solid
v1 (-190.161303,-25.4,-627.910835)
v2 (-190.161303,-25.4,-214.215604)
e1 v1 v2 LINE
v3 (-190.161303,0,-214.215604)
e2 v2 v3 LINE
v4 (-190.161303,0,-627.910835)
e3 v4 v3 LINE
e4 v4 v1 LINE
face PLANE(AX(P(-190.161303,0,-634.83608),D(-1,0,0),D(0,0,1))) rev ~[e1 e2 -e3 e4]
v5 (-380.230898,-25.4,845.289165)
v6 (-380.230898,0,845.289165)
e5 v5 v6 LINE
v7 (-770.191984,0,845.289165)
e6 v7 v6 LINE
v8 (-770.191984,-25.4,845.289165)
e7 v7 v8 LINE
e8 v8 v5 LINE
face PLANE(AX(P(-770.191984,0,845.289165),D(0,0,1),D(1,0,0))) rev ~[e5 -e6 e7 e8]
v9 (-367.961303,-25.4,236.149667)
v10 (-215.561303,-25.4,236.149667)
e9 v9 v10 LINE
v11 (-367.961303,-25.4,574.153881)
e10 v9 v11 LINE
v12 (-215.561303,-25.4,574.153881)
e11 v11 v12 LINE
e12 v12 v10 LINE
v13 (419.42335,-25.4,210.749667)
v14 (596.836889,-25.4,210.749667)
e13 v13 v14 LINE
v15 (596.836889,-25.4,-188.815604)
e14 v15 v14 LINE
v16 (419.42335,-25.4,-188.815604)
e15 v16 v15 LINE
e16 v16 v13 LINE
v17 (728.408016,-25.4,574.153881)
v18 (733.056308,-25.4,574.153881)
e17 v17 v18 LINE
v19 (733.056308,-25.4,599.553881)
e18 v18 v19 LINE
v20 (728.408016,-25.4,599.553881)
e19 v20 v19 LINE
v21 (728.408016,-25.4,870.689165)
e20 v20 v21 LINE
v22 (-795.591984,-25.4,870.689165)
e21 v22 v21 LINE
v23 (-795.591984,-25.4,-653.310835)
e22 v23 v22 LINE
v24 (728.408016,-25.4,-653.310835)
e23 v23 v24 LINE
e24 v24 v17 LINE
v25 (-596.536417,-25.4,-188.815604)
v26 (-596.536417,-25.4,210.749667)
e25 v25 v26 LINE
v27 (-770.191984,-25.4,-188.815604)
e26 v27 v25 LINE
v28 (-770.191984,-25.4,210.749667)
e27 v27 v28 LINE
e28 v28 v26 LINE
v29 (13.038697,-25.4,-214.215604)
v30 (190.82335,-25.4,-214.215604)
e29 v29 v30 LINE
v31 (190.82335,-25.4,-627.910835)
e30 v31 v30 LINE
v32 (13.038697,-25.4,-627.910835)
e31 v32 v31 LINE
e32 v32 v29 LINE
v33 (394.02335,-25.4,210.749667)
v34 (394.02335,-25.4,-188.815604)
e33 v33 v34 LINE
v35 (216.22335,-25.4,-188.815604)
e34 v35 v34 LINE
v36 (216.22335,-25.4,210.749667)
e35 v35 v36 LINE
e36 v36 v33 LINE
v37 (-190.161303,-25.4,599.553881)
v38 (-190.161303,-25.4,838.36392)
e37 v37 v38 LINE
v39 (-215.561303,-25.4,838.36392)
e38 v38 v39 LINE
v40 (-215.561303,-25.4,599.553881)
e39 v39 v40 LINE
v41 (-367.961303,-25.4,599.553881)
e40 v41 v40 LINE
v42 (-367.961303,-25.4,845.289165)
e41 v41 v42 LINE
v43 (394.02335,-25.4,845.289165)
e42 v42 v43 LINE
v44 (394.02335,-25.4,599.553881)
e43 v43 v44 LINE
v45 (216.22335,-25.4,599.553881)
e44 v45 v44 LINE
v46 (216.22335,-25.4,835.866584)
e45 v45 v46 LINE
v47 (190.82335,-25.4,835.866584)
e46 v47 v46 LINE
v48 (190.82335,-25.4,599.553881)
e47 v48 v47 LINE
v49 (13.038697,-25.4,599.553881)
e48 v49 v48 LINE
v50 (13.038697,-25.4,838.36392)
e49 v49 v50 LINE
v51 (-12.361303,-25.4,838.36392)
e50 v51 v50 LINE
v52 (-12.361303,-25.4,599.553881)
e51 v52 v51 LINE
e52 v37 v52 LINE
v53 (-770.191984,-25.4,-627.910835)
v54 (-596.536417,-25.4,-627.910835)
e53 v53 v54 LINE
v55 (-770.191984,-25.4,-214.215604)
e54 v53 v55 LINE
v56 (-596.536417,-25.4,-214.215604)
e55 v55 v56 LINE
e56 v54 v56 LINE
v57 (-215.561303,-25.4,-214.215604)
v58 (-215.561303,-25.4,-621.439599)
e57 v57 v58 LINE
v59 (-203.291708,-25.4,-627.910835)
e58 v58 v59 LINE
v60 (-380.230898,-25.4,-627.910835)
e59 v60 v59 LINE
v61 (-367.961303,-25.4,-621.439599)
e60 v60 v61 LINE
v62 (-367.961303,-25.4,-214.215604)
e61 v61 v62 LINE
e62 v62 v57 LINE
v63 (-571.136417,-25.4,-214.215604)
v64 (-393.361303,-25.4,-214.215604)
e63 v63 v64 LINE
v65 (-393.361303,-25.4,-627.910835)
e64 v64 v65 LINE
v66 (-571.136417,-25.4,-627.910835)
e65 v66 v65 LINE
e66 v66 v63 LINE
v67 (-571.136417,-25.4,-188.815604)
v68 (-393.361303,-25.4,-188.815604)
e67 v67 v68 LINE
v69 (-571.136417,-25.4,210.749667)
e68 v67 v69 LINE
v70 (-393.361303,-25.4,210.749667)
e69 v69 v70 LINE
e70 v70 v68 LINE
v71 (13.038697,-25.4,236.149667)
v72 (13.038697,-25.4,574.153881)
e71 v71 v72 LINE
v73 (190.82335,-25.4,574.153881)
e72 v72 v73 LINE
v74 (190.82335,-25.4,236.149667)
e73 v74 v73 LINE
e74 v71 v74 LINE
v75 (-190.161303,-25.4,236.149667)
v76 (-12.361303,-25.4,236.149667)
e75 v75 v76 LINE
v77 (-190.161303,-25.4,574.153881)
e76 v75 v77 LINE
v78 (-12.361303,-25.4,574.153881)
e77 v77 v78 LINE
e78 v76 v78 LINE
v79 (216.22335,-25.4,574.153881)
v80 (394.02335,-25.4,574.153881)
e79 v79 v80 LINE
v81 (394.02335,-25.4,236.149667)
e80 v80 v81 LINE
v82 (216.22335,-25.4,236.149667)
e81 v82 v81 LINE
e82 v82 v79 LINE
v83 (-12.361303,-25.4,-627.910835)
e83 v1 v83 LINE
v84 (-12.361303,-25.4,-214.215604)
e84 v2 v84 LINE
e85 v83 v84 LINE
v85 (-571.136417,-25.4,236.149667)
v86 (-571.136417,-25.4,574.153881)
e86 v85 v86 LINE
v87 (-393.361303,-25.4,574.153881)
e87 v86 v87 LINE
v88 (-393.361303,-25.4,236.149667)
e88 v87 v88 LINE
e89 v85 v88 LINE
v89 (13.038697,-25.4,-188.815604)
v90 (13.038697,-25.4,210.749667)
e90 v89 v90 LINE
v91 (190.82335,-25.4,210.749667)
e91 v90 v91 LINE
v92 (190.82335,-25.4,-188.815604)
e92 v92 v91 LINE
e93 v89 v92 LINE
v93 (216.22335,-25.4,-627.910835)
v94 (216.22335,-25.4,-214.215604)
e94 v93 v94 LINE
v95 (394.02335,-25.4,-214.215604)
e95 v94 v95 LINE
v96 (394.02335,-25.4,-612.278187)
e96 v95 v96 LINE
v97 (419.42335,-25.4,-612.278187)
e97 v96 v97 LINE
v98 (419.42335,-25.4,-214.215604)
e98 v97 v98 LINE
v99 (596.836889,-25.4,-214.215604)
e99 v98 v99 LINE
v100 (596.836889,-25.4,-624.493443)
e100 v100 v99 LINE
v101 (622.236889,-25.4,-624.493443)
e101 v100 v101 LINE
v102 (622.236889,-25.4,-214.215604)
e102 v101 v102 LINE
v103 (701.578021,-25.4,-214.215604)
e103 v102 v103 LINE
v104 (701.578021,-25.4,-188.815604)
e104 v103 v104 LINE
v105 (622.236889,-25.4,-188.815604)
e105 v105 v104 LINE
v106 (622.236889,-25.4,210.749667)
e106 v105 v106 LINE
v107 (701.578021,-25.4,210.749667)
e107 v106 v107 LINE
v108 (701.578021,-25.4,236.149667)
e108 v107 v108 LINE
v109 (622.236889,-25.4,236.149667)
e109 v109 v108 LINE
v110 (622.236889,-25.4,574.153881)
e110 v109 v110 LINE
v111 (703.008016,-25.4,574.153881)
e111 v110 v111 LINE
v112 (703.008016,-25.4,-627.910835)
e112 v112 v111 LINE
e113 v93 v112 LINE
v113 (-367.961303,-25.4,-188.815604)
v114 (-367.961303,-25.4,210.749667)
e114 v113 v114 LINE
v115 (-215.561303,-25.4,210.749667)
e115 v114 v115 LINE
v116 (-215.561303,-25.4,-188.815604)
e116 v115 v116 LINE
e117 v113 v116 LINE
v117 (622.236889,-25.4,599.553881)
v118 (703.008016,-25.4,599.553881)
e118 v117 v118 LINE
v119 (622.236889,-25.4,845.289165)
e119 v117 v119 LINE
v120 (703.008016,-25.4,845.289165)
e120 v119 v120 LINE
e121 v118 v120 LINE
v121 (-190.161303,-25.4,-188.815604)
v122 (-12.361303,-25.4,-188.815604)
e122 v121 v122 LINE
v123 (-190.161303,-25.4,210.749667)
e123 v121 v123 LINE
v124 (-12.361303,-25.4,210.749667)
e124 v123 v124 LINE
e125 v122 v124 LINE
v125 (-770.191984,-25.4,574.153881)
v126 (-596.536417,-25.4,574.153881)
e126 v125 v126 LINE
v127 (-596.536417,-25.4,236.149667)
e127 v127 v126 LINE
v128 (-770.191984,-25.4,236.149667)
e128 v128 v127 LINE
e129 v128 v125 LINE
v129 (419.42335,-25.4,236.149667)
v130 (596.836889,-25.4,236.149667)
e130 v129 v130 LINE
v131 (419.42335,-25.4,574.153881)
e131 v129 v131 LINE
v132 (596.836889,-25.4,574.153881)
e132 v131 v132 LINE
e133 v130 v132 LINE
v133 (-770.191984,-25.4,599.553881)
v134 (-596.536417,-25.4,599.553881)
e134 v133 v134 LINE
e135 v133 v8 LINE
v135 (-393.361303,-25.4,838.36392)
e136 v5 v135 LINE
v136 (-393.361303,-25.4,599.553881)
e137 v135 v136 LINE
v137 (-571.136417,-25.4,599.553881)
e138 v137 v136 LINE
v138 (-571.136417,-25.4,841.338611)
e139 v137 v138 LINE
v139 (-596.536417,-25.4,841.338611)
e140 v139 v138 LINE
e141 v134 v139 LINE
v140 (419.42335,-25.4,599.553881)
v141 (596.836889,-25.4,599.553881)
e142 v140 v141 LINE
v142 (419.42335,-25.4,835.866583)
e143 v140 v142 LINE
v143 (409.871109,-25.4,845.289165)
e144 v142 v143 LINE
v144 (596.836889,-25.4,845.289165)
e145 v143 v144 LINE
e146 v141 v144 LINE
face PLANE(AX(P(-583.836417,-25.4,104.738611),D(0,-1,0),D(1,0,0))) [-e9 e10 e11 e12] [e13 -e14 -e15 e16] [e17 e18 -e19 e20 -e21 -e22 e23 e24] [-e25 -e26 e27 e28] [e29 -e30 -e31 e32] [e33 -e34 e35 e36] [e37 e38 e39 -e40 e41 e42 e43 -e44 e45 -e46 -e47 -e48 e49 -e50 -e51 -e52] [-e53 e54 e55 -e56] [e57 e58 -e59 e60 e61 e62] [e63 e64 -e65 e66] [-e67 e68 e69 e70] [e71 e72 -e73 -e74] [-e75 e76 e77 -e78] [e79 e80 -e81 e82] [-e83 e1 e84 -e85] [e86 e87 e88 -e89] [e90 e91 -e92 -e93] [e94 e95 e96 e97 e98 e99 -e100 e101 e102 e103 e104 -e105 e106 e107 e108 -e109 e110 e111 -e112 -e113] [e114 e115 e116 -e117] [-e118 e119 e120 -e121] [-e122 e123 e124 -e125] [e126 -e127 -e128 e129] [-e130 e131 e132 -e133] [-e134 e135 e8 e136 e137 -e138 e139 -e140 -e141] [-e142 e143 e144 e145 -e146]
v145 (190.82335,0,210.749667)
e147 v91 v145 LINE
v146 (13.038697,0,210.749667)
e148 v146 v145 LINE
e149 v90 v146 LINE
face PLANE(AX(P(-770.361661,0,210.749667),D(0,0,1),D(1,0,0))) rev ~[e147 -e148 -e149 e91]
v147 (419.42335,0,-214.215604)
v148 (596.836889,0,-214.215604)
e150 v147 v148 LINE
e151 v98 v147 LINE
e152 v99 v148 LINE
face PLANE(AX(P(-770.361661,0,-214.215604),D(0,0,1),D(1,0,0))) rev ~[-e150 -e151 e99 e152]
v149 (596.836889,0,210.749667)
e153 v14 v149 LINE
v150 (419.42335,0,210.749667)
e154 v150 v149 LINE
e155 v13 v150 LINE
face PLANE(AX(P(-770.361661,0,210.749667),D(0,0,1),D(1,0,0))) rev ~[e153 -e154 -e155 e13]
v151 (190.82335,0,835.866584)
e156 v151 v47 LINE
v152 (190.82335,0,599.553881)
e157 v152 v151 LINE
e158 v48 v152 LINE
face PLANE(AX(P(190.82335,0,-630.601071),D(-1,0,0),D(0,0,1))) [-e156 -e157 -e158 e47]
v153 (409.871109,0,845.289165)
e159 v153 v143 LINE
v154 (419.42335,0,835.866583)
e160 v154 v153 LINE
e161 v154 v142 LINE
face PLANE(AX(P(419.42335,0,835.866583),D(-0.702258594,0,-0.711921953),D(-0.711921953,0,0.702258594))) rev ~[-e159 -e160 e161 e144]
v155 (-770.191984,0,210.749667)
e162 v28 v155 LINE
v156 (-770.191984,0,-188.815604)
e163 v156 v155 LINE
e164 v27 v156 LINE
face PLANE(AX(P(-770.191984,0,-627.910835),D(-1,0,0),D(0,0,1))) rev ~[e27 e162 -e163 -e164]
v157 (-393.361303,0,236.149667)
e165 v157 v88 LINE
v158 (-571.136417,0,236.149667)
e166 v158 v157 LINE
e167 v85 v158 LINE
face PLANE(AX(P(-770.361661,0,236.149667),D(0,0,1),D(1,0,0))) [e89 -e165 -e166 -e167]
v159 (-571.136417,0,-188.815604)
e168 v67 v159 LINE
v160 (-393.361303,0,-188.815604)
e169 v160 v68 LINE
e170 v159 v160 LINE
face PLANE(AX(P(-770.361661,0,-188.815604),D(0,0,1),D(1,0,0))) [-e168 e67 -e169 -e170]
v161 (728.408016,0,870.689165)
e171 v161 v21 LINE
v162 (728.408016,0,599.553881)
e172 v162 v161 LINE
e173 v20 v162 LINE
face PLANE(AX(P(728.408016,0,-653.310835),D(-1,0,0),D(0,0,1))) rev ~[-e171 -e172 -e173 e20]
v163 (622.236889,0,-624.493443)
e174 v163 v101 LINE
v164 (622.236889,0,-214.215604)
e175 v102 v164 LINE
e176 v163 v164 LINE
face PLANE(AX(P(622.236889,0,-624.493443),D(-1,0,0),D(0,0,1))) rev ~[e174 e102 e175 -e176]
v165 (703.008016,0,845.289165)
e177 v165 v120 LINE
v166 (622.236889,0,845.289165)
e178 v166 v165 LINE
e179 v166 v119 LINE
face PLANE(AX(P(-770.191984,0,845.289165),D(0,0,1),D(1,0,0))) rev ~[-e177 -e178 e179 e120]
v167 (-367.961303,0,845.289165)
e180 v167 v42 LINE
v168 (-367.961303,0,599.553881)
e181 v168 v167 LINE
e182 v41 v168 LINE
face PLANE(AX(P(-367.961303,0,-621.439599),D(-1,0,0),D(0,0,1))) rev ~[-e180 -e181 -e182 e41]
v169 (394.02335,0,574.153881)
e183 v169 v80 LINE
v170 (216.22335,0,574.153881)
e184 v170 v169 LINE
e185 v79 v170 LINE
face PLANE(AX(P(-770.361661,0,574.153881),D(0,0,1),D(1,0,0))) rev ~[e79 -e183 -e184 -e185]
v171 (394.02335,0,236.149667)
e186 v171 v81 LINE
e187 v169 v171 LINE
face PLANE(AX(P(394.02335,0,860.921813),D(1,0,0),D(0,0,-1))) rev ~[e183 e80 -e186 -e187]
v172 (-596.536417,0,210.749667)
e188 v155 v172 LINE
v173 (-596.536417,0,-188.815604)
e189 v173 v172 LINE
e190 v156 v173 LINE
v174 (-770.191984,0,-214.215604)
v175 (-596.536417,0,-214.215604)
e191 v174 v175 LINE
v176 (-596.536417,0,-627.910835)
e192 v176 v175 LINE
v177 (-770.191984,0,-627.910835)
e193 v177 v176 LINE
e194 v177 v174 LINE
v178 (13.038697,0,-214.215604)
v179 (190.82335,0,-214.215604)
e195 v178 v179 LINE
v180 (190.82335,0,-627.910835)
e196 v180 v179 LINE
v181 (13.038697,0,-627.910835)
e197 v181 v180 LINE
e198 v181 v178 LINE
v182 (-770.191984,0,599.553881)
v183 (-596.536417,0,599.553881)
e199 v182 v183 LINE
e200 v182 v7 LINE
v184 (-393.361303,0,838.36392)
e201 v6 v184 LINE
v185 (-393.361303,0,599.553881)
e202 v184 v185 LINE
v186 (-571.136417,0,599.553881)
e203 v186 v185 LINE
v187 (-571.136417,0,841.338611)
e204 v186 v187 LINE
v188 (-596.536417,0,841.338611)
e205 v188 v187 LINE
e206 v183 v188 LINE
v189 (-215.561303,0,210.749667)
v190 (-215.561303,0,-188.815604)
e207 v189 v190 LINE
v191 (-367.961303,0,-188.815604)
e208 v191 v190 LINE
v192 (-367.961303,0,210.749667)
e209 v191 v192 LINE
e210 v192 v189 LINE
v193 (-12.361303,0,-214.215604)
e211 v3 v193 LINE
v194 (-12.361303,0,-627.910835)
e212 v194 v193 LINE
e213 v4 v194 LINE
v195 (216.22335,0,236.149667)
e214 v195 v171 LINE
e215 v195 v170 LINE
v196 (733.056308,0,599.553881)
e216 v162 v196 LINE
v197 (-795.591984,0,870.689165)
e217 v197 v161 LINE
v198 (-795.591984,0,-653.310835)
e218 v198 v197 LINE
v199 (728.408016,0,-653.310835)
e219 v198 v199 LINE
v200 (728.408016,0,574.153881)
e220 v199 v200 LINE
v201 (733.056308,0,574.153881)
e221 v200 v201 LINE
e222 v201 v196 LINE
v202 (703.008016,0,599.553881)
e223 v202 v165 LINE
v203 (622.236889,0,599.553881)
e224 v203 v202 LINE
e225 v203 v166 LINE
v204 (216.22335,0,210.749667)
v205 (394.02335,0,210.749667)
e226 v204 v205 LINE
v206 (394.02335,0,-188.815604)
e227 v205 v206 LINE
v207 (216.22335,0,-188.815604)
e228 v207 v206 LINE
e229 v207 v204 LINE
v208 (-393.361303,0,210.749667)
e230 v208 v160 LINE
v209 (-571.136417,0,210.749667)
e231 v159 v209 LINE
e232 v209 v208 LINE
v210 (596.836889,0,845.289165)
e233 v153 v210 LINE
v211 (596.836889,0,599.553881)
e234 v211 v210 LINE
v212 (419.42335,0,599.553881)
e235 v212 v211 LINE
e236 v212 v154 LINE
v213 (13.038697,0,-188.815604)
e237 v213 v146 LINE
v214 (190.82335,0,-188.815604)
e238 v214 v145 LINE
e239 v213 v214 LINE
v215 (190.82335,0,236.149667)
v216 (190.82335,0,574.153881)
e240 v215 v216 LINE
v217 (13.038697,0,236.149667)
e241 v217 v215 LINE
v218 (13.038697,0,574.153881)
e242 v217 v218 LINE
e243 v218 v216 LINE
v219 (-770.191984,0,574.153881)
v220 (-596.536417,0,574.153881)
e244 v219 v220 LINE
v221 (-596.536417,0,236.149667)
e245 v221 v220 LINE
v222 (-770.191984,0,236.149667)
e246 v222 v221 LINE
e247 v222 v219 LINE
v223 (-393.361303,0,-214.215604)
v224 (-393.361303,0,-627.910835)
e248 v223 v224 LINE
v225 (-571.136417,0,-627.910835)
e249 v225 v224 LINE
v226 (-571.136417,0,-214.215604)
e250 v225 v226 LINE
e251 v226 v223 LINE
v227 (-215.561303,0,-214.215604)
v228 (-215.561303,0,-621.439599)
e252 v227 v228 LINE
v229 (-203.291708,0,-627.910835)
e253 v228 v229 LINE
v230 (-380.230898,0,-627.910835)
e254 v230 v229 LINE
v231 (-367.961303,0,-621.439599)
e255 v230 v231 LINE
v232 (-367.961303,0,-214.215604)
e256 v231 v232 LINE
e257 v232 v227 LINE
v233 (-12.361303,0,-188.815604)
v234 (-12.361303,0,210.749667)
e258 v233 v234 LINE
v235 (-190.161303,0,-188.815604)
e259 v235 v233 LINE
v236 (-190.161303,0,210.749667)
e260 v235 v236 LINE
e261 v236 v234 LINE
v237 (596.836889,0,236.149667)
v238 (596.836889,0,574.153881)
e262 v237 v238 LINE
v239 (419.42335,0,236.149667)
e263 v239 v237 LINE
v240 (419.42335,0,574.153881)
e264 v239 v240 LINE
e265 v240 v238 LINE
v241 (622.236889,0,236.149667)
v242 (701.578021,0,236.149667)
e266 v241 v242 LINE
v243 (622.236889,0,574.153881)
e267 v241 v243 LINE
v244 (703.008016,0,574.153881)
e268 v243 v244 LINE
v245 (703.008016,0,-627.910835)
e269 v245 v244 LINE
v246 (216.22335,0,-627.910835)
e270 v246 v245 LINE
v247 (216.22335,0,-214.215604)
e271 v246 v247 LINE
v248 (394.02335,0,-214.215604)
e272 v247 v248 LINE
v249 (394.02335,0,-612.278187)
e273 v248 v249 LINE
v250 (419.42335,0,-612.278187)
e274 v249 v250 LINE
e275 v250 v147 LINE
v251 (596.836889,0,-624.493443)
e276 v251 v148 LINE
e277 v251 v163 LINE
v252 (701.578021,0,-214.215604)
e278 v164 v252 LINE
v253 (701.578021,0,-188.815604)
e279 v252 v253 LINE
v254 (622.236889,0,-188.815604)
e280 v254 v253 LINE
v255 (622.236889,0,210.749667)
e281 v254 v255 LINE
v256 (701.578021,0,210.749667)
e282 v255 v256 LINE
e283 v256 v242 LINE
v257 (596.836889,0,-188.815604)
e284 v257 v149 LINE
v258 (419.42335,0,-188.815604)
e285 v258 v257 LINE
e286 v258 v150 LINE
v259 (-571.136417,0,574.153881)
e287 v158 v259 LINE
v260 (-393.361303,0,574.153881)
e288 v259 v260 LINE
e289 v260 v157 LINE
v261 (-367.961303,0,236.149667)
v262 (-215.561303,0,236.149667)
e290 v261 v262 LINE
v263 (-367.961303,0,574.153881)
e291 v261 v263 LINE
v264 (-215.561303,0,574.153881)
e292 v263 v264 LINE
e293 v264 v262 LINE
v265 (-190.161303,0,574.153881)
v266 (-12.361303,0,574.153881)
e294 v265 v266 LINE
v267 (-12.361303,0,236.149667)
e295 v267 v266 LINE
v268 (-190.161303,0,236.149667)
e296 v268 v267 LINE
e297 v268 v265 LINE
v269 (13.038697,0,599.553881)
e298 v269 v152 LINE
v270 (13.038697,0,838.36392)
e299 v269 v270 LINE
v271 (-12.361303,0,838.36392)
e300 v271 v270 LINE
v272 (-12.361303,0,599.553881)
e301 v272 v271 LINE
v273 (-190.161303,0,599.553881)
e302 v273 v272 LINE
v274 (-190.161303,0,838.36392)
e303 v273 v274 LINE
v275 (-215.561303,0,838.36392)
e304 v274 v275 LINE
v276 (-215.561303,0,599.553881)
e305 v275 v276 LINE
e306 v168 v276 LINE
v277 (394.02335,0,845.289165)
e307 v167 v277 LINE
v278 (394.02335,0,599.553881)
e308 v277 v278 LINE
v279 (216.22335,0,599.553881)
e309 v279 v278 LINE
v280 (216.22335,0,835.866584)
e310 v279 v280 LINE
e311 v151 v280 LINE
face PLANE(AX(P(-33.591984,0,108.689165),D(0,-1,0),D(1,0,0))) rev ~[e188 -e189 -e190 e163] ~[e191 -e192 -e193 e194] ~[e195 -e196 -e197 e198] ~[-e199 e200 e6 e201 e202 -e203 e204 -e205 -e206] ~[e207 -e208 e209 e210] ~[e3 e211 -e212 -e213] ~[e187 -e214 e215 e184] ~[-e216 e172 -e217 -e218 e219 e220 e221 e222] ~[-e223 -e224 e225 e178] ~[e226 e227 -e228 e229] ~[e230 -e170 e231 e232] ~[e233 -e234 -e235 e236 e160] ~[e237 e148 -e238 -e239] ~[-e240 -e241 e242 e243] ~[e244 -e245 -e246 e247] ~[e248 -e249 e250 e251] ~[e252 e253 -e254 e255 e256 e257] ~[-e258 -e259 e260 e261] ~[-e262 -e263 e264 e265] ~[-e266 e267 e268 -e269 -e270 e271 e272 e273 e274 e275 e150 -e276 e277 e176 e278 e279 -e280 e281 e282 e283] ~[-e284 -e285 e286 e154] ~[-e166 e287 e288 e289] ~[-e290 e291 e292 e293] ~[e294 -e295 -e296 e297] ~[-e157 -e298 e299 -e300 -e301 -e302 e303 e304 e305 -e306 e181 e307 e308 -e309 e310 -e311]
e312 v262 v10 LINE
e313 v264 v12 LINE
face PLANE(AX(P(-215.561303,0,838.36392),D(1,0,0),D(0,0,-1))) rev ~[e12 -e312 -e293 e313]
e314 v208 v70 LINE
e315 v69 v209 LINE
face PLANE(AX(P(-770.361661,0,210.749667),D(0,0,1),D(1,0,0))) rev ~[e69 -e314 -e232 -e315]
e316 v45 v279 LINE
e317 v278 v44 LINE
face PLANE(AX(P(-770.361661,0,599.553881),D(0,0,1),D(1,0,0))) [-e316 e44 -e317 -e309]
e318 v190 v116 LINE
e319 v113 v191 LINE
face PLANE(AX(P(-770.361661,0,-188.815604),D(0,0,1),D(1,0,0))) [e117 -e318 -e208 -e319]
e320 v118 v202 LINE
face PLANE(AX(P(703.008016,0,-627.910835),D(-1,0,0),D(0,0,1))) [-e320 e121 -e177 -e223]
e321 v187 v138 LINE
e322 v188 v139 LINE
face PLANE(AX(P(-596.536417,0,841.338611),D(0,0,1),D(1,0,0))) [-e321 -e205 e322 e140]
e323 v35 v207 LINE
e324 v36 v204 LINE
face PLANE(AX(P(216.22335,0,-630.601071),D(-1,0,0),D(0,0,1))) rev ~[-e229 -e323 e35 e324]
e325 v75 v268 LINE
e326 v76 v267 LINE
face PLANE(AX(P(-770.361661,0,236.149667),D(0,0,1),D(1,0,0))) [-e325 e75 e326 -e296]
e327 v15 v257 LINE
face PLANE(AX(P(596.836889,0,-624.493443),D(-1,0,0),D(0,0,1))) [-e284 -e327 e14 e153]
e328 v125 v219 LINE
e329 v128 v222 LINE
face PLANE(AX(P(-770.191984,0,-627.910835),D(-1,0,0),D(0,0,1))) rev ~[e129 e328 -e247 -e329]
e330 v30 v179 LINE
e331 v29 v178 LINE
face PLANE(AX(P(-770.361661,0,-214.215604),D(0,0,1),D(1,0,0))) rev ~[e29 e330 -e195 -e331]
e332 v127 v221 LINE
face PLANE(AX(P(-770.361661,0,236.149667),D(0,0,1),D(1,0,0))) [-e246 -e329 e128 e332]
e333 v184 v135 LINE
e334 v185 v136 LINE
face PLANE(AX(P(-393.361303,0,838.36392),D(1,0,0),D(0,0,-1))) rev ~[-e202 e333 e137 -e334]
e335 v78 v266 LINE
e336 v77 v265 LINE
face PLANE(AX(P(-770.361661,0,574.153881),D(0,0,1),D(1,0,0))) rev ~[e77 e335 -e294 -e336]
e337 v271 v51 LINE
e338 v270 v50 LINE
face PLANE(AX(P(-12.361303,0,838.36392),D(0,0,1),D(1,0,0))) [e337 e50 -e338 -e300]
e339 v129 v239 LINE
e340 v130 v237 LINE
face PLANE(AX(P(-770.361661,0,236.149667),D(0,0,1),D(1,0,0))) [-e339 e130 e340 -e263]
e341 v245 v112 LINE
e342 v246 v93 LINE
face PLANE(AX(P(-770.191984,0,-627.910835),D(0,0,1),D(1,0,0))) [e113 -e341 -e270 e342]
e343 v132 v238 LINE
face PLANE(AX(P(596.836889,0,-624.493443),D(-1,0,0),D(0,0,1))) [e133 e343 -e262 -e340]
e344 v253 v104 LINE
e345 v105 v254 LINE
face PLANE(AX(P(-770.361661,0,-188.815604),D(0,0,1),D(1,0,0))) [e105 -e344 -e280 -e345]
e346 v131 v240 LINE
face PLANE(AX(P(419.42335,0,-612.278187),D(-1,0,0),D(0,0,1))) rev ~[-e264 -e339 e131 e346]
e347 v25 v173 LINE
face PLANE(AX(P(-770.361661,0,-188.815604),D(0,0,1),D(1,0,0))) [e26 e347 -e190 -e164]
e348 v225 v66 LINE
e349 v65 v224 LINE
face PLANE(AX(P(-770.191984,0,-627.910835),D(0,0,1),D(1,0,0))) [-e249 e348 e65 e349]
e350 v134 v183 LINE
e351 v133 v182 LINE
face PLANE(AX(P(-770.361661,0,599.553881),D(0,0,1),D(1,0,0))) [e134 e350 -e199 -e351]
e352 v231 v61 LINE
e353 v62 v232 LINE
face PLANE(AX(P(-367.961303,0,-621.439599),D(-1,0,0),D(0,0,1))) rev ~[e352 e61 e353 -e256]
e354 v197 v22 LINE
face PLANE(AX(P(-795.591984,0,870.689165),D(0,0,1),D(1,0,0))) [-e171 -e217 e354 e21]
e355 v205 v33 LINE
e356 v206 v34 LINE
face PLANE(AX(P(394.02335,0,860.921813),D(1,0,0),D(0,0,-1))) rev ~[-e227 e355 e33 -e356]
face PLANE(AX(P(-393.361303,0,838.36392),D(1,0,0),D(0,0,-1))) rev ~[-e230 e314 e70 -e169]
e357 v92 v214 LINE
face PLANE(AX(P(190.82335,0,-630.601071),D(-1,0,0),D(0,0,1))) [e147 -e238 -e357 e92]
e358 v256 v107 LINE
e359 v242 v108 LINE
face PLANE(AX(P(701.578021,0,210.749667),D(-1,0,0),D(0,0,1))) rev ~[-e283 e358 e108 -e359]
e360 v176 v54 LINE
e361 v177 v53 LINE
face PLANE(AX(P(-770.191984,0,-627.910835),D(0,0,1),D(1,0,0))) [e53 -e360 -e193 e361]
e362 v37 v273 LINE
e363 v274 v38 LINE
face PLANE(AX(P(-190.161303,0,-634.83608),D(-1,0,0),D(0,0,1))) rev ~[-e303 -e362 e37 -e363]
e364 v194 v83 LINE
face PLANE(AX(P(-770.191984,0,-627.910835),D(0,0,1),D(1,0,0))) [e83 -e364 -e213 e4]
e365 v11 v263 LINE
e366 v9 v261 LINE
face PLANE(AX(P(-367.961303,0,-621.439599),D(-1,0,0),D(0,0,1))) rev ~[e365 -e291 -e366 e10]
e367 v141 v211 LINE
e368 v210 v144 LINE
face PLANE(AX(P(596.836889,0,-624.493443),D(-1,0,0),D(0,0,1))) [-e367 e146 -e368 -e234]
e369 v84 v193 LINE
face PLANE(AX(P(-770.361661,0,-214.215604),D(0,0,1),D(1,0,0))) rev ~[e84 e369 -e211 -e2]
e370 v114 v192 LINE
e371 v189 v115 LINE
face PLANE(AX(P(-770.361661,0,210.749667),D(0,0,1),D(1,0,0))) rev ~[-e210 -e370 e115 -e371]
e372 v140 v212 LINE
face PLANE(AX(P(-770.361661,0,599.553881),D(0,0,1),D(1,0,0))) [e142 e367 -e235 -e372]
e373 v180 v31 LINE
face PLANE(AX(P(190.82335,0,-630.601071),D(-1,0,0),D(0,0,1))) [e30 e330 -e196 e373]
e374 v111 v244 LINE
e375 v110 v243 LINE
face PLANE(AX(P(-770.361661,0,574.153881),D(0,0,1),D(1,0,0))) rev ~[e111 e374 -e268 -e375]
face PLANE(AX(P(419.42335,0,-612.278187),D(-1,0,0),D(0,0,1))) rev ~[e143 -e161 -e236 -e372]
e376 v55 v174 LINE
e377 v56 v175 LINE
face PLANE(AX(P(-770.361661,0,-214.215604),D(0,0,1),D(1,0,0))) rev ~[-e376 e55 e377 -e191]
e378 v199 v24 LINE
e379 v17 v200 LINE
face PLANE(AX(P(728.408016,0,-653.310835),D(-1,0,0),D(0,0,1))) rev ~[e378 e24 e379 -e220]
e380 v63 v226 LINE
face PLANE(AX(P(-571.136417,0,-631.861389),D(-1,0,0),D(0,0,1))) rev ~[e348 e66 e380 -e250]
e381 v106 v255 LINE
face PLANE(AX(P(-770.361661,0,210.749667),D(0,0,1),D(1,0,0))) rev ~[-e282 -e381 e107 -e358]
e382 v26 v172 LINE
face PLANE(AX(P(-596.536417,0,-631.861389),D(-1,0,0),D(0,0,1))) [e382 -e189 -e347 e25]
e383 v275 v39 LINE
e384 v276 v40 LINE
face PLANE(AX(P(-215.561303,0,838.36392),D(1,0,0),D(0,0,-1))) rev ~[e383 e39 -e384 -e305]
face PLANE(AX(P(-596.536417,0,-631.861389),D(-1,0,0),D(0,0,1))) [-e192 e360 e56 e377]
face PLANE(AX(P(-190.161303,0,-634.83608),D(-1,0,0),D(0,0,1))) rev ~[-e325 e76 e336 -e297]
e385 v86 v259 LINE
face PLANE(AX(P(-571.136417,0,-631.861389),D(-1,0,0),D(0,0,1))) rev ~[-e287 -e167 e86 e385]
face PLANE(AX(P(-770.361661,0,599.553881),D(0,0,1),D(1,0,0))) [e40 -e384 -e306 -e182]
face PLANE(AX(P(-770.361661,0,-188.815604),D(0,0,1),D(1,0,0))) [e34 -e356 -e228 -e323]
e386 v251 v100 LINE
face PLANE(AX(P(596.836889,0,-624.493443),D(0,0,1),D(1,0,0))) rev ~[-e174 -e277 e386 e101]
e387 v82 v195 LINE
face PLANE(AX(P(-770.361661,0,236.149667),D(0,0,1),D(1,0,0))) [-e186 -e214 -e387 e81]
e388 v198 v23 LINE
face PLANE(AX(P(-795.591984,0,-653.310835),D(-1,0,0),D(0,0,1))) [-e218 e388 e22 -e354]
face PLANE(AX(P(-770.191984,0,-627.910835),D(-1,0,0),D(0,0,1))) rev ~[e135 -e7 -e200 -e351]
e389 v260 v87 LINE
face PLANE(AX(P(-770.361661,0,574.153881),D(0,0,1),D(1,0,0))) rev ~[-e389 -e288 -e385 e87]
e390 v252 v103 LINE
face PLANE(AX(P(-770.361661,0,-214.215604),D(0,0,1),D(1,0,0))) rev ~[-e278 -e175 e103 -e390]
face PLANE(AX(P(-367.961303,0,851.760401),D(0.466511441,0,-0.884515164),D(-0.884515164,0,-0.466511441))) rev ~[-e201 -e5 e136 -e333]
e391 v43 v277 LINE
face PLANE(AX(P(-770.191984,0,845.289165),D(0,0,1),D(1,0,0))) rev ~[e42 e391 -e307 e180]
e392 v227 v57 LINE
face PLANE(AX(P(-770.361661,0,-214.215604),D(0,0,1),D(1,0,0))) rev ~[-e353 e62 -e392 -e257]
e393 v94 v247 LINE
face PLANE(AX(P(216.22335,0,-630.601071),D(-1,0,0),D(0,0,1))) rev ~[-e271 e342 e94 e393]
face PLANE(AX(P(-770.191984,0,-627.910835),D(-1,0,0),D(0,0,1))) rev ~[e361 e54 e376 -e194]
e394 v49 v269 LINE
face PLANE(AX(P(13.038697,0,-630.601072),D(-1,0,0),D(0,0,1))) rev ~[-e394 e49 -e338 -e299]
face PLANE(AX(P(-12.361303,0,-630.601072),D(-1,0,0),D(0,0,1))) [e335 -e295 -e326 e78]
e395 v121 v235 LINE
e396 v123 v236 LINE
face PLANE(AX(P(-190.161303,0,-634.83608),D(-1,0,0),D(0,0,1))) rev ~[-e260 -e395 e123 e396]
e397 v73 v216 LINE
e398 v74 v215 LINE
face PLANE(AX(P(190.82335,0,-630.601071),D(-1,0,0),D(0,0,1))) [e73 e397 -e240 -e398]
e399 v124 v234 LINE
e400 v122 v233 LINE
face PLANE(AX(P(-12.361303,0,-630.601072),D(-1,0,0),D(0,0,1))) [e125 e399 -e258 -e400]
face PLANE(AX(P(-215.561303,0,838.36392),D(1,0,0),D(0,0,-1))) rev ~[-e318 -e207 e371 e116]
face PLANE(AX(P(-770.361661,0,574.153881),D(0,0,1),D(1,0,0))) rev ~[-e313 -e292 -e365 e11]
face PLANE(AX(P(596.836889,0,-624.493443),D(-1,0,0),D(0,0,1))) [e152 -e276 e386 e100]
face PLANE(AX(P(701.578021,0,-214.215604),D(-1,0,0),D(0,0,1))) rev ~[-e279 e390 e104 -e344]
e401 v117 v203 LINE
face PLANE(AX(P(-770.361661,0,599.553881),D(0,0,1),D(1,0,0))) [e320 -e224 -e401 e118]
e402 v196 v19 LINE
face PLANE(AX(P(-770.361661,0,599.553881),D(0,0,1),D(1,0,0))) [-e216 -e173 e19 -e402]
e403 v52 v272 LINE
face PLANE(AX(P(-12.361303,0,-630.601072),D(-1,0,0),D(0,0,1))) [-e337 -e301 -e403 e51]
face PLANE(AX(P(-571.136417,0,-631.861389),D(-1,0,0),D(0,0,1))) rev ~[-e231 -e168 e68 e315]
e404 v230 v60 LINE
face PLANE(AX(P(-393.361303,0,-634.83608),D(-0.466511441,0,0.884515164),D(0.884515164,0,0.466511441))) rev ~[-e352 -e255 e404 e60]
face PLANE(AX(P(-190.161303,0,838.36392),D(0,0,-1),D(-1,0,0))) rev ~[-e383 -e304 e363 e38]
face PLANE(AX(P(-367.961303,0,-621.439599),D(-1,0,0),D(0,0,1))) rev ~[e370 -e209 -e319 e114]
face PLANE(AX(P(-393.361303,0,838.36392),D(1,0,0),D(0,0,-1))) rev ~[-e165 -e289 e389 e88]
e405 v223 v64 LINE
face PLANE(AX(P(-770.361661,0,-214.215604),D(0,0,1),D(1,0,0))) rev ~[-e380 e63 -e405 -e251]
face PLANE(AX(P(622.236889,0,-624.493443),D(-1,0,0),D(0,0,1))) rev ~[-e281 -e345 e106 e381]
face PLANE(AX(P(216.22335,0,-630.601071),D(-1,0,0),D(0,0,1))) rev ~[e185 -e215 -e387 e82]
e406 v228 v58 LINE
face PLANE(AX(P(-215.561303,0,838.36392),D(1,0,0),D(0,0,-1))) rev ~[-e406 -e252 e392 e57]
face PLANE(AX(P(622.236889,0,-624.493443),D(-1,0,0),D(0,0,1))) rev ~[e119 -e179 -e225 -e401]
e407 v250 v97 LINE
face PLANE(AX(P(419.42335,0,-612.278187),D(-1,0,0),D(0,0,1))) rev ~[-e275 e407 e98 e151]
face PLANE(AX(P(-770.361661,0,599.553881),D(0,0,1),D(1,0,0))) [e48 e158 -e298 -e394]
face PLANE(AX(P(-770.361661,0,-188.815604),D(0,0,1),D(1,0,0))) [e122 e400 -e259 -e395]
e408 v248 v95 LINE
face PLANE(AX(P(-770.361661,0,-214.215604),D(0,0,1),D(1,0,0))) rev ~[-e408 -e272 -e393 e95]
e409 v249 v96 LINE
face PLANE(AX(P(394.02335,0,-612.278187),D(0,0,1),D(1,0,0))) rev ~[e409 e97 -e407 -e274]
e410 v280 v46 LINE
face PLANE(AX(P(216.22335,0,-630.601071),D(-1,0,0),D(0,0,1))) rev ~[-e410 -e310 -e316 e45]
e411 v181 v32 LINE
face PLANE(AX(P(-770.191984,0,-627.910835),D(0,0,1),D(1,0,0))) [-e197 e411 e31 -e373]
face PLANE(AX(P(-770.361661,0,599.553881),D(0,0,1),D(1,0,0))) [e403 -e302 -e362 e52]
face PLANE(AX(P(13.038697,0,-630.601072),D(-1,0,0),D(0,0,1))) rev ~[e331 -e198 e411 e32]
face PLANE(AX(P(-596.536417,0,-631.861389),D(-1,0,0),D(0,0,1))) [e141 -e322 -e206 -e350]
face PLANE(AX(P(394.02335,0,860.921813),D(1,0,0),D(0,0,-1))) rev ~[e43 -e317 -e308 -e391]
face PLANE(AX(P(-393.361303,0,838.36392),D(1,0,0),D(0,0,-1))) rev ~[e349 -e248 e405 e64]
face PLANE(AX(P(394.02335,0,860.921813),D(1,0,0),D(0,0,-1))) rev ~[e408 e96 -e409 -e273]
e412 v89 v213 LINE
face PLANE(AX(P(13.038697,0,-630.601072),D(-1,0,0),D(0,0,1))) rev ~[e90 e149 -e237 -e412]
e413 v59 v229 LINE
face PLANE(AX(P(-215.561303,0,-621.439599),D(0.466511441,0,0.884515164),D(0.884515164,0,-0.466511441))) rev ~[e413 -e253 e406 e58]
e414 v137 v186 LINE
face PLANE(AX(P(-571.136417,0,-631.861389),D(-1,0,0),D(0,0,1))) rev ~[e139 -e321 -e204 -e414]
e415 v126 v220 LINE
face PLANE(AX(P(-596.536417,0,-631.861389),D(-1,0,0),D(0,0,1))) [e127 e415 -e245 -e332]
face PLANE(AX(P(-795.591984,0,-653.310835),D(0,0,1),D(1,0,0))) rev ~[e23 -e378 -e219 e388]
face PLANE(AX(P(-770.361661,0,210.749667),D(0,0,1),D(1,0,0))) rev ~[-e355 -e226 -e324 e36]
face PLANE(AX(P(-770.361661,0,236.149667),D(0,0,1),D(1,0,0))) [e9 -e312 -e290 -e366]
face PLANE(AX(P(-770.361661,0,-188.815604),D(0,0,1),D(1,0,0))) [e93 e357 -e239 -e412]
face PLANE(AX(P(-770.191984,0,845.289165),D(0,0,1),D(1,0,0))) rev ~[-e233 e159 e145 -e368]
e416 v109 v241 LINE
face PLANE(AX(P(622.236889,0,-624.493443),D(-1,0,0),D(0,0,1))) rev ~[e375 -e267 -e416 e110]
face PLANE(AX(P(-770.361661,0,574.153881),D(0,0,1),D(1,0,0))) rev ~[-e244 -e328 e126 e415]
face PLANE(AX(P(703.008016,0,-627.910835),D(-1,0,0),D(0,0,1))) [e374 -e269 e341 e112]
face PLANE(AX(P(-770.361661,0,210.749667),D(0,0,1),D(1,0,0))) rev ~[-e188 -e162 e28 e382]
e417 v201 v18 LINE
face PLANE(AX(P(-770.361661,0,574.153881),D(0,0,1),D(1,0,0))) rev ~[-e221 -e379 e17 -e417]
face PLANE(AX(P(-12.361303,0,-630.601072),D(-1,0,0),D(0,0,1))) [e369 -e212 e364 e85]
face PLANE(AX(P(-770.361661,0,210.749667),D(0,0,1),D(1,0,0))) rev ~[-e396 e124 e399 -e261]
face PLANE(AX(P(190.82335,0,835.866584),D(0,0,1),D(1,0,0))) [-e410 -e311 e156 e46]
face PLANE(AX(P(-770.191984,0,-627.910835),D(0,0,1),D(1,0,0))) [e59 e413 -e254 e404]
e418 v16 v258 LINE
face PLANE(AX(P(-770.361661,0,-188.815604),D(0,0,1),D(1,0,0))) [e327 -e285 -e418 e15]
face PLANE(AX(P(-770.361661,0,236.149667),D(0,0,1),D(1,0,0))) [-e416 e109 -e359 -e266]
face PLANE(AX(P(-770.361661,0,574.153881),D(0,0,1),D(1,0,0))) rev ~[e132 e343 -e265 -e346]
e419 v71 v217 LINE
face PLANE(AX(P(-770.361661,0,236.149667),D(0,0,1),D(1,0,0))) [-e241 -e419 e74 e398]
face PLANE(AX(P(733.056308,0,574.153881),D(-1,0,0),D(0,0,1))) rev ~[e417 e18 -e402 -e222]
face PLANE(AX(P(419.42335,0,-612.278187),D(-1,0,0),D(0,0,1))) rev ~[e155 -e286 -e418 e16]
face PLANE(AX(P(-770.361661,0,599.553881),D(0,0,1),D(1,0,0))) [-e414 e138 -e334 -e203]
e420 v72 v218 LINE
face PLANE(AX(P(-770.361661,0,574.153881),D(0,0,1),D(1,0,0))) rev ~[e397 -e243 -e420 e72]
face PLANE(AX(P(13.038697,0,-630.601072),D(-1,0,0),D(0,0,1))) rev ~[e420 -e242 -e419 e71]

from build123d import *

# Parameters (mm, degrees)
F0_W     = 1524
F0_H     = 1524
F0_W_2   = 1473.2
F0_H_2   = 1473.2
F1_DEPTH = 25.4
F2_W     = 25.4
F2_H     = 1473.2
F2_H_2   = 1468.964992
F2_H_3   = 1466.467655
F2_H_4   = 1472.886331
F3_DEPTH = 25.4
F4_W     = 1471.939683
F4_H     = 25.4
F4_W_2   = 1503.417969
F5_DEPTH = 25.4


with BuildPart() as f1:
    # F0 (on Front) → F1 (new body)
    with BuildSketch(Plane.XZ):
        with Locations((-33.591984, 108.689165)):
            Rectangle(F0_W, F0_H)
        with Locations((-33.591984, 108.689165)):
            Rectangle(F0_W_2, F0_H_2, mode=Mode.SUBTRACT)
    extrude(amount=F1_DEPTH)

    # F2 (on Front) → F3 (join)
    with BuildSketch(Plane.XZ):
        with Locations((-583.836417, 104.738611)):
            Rectangle(F2_W, F2_H)
        Polygon((-367.961303, 851.760401), (-393.361303, 838.36392), (-393.361303, -634.83608), (-367.961303, -621.439599), align=None)
        Polygon((-190.161303, -634.83608), (-190.161303, 838.36392), (-215.561303, 838.36392), (-215.561303, -621.439599), align=None)
        with Locations((0.338697, 103.881424)):
            Rectangle(F2_W, F2_H_2)
        with Locations((203.52335, 102.632756)):
            Rectangle(F2_W, F2_H_3)
        Polygon((419.42335, -612.278187), (419.42335, 835.866583), (394.02335, 860.921813), (394.02335, -612.278187), align=None)
        with Locations((609.536889, 111.949723)):
            Rectangle(F2_W, F2_H_4)
    extrude(amount=F3_DEPTH)

    # F4 (on Front) → F5 (join)
    with BuildSketch(Plane.XZ):
        with Locations((-34.39182, 223.449667)):
            Rectangle(F4_W, F4_H)
        with Locations((-34.39182, -201.515604)):
            Rectangle(F4_W, F4_H)
        with Locations((-18.652677, 586.853881)):
            Rectangle(F4_W_2, F4_H)
    extrude(amount=F5_DEPTH)


solid = f1.part
